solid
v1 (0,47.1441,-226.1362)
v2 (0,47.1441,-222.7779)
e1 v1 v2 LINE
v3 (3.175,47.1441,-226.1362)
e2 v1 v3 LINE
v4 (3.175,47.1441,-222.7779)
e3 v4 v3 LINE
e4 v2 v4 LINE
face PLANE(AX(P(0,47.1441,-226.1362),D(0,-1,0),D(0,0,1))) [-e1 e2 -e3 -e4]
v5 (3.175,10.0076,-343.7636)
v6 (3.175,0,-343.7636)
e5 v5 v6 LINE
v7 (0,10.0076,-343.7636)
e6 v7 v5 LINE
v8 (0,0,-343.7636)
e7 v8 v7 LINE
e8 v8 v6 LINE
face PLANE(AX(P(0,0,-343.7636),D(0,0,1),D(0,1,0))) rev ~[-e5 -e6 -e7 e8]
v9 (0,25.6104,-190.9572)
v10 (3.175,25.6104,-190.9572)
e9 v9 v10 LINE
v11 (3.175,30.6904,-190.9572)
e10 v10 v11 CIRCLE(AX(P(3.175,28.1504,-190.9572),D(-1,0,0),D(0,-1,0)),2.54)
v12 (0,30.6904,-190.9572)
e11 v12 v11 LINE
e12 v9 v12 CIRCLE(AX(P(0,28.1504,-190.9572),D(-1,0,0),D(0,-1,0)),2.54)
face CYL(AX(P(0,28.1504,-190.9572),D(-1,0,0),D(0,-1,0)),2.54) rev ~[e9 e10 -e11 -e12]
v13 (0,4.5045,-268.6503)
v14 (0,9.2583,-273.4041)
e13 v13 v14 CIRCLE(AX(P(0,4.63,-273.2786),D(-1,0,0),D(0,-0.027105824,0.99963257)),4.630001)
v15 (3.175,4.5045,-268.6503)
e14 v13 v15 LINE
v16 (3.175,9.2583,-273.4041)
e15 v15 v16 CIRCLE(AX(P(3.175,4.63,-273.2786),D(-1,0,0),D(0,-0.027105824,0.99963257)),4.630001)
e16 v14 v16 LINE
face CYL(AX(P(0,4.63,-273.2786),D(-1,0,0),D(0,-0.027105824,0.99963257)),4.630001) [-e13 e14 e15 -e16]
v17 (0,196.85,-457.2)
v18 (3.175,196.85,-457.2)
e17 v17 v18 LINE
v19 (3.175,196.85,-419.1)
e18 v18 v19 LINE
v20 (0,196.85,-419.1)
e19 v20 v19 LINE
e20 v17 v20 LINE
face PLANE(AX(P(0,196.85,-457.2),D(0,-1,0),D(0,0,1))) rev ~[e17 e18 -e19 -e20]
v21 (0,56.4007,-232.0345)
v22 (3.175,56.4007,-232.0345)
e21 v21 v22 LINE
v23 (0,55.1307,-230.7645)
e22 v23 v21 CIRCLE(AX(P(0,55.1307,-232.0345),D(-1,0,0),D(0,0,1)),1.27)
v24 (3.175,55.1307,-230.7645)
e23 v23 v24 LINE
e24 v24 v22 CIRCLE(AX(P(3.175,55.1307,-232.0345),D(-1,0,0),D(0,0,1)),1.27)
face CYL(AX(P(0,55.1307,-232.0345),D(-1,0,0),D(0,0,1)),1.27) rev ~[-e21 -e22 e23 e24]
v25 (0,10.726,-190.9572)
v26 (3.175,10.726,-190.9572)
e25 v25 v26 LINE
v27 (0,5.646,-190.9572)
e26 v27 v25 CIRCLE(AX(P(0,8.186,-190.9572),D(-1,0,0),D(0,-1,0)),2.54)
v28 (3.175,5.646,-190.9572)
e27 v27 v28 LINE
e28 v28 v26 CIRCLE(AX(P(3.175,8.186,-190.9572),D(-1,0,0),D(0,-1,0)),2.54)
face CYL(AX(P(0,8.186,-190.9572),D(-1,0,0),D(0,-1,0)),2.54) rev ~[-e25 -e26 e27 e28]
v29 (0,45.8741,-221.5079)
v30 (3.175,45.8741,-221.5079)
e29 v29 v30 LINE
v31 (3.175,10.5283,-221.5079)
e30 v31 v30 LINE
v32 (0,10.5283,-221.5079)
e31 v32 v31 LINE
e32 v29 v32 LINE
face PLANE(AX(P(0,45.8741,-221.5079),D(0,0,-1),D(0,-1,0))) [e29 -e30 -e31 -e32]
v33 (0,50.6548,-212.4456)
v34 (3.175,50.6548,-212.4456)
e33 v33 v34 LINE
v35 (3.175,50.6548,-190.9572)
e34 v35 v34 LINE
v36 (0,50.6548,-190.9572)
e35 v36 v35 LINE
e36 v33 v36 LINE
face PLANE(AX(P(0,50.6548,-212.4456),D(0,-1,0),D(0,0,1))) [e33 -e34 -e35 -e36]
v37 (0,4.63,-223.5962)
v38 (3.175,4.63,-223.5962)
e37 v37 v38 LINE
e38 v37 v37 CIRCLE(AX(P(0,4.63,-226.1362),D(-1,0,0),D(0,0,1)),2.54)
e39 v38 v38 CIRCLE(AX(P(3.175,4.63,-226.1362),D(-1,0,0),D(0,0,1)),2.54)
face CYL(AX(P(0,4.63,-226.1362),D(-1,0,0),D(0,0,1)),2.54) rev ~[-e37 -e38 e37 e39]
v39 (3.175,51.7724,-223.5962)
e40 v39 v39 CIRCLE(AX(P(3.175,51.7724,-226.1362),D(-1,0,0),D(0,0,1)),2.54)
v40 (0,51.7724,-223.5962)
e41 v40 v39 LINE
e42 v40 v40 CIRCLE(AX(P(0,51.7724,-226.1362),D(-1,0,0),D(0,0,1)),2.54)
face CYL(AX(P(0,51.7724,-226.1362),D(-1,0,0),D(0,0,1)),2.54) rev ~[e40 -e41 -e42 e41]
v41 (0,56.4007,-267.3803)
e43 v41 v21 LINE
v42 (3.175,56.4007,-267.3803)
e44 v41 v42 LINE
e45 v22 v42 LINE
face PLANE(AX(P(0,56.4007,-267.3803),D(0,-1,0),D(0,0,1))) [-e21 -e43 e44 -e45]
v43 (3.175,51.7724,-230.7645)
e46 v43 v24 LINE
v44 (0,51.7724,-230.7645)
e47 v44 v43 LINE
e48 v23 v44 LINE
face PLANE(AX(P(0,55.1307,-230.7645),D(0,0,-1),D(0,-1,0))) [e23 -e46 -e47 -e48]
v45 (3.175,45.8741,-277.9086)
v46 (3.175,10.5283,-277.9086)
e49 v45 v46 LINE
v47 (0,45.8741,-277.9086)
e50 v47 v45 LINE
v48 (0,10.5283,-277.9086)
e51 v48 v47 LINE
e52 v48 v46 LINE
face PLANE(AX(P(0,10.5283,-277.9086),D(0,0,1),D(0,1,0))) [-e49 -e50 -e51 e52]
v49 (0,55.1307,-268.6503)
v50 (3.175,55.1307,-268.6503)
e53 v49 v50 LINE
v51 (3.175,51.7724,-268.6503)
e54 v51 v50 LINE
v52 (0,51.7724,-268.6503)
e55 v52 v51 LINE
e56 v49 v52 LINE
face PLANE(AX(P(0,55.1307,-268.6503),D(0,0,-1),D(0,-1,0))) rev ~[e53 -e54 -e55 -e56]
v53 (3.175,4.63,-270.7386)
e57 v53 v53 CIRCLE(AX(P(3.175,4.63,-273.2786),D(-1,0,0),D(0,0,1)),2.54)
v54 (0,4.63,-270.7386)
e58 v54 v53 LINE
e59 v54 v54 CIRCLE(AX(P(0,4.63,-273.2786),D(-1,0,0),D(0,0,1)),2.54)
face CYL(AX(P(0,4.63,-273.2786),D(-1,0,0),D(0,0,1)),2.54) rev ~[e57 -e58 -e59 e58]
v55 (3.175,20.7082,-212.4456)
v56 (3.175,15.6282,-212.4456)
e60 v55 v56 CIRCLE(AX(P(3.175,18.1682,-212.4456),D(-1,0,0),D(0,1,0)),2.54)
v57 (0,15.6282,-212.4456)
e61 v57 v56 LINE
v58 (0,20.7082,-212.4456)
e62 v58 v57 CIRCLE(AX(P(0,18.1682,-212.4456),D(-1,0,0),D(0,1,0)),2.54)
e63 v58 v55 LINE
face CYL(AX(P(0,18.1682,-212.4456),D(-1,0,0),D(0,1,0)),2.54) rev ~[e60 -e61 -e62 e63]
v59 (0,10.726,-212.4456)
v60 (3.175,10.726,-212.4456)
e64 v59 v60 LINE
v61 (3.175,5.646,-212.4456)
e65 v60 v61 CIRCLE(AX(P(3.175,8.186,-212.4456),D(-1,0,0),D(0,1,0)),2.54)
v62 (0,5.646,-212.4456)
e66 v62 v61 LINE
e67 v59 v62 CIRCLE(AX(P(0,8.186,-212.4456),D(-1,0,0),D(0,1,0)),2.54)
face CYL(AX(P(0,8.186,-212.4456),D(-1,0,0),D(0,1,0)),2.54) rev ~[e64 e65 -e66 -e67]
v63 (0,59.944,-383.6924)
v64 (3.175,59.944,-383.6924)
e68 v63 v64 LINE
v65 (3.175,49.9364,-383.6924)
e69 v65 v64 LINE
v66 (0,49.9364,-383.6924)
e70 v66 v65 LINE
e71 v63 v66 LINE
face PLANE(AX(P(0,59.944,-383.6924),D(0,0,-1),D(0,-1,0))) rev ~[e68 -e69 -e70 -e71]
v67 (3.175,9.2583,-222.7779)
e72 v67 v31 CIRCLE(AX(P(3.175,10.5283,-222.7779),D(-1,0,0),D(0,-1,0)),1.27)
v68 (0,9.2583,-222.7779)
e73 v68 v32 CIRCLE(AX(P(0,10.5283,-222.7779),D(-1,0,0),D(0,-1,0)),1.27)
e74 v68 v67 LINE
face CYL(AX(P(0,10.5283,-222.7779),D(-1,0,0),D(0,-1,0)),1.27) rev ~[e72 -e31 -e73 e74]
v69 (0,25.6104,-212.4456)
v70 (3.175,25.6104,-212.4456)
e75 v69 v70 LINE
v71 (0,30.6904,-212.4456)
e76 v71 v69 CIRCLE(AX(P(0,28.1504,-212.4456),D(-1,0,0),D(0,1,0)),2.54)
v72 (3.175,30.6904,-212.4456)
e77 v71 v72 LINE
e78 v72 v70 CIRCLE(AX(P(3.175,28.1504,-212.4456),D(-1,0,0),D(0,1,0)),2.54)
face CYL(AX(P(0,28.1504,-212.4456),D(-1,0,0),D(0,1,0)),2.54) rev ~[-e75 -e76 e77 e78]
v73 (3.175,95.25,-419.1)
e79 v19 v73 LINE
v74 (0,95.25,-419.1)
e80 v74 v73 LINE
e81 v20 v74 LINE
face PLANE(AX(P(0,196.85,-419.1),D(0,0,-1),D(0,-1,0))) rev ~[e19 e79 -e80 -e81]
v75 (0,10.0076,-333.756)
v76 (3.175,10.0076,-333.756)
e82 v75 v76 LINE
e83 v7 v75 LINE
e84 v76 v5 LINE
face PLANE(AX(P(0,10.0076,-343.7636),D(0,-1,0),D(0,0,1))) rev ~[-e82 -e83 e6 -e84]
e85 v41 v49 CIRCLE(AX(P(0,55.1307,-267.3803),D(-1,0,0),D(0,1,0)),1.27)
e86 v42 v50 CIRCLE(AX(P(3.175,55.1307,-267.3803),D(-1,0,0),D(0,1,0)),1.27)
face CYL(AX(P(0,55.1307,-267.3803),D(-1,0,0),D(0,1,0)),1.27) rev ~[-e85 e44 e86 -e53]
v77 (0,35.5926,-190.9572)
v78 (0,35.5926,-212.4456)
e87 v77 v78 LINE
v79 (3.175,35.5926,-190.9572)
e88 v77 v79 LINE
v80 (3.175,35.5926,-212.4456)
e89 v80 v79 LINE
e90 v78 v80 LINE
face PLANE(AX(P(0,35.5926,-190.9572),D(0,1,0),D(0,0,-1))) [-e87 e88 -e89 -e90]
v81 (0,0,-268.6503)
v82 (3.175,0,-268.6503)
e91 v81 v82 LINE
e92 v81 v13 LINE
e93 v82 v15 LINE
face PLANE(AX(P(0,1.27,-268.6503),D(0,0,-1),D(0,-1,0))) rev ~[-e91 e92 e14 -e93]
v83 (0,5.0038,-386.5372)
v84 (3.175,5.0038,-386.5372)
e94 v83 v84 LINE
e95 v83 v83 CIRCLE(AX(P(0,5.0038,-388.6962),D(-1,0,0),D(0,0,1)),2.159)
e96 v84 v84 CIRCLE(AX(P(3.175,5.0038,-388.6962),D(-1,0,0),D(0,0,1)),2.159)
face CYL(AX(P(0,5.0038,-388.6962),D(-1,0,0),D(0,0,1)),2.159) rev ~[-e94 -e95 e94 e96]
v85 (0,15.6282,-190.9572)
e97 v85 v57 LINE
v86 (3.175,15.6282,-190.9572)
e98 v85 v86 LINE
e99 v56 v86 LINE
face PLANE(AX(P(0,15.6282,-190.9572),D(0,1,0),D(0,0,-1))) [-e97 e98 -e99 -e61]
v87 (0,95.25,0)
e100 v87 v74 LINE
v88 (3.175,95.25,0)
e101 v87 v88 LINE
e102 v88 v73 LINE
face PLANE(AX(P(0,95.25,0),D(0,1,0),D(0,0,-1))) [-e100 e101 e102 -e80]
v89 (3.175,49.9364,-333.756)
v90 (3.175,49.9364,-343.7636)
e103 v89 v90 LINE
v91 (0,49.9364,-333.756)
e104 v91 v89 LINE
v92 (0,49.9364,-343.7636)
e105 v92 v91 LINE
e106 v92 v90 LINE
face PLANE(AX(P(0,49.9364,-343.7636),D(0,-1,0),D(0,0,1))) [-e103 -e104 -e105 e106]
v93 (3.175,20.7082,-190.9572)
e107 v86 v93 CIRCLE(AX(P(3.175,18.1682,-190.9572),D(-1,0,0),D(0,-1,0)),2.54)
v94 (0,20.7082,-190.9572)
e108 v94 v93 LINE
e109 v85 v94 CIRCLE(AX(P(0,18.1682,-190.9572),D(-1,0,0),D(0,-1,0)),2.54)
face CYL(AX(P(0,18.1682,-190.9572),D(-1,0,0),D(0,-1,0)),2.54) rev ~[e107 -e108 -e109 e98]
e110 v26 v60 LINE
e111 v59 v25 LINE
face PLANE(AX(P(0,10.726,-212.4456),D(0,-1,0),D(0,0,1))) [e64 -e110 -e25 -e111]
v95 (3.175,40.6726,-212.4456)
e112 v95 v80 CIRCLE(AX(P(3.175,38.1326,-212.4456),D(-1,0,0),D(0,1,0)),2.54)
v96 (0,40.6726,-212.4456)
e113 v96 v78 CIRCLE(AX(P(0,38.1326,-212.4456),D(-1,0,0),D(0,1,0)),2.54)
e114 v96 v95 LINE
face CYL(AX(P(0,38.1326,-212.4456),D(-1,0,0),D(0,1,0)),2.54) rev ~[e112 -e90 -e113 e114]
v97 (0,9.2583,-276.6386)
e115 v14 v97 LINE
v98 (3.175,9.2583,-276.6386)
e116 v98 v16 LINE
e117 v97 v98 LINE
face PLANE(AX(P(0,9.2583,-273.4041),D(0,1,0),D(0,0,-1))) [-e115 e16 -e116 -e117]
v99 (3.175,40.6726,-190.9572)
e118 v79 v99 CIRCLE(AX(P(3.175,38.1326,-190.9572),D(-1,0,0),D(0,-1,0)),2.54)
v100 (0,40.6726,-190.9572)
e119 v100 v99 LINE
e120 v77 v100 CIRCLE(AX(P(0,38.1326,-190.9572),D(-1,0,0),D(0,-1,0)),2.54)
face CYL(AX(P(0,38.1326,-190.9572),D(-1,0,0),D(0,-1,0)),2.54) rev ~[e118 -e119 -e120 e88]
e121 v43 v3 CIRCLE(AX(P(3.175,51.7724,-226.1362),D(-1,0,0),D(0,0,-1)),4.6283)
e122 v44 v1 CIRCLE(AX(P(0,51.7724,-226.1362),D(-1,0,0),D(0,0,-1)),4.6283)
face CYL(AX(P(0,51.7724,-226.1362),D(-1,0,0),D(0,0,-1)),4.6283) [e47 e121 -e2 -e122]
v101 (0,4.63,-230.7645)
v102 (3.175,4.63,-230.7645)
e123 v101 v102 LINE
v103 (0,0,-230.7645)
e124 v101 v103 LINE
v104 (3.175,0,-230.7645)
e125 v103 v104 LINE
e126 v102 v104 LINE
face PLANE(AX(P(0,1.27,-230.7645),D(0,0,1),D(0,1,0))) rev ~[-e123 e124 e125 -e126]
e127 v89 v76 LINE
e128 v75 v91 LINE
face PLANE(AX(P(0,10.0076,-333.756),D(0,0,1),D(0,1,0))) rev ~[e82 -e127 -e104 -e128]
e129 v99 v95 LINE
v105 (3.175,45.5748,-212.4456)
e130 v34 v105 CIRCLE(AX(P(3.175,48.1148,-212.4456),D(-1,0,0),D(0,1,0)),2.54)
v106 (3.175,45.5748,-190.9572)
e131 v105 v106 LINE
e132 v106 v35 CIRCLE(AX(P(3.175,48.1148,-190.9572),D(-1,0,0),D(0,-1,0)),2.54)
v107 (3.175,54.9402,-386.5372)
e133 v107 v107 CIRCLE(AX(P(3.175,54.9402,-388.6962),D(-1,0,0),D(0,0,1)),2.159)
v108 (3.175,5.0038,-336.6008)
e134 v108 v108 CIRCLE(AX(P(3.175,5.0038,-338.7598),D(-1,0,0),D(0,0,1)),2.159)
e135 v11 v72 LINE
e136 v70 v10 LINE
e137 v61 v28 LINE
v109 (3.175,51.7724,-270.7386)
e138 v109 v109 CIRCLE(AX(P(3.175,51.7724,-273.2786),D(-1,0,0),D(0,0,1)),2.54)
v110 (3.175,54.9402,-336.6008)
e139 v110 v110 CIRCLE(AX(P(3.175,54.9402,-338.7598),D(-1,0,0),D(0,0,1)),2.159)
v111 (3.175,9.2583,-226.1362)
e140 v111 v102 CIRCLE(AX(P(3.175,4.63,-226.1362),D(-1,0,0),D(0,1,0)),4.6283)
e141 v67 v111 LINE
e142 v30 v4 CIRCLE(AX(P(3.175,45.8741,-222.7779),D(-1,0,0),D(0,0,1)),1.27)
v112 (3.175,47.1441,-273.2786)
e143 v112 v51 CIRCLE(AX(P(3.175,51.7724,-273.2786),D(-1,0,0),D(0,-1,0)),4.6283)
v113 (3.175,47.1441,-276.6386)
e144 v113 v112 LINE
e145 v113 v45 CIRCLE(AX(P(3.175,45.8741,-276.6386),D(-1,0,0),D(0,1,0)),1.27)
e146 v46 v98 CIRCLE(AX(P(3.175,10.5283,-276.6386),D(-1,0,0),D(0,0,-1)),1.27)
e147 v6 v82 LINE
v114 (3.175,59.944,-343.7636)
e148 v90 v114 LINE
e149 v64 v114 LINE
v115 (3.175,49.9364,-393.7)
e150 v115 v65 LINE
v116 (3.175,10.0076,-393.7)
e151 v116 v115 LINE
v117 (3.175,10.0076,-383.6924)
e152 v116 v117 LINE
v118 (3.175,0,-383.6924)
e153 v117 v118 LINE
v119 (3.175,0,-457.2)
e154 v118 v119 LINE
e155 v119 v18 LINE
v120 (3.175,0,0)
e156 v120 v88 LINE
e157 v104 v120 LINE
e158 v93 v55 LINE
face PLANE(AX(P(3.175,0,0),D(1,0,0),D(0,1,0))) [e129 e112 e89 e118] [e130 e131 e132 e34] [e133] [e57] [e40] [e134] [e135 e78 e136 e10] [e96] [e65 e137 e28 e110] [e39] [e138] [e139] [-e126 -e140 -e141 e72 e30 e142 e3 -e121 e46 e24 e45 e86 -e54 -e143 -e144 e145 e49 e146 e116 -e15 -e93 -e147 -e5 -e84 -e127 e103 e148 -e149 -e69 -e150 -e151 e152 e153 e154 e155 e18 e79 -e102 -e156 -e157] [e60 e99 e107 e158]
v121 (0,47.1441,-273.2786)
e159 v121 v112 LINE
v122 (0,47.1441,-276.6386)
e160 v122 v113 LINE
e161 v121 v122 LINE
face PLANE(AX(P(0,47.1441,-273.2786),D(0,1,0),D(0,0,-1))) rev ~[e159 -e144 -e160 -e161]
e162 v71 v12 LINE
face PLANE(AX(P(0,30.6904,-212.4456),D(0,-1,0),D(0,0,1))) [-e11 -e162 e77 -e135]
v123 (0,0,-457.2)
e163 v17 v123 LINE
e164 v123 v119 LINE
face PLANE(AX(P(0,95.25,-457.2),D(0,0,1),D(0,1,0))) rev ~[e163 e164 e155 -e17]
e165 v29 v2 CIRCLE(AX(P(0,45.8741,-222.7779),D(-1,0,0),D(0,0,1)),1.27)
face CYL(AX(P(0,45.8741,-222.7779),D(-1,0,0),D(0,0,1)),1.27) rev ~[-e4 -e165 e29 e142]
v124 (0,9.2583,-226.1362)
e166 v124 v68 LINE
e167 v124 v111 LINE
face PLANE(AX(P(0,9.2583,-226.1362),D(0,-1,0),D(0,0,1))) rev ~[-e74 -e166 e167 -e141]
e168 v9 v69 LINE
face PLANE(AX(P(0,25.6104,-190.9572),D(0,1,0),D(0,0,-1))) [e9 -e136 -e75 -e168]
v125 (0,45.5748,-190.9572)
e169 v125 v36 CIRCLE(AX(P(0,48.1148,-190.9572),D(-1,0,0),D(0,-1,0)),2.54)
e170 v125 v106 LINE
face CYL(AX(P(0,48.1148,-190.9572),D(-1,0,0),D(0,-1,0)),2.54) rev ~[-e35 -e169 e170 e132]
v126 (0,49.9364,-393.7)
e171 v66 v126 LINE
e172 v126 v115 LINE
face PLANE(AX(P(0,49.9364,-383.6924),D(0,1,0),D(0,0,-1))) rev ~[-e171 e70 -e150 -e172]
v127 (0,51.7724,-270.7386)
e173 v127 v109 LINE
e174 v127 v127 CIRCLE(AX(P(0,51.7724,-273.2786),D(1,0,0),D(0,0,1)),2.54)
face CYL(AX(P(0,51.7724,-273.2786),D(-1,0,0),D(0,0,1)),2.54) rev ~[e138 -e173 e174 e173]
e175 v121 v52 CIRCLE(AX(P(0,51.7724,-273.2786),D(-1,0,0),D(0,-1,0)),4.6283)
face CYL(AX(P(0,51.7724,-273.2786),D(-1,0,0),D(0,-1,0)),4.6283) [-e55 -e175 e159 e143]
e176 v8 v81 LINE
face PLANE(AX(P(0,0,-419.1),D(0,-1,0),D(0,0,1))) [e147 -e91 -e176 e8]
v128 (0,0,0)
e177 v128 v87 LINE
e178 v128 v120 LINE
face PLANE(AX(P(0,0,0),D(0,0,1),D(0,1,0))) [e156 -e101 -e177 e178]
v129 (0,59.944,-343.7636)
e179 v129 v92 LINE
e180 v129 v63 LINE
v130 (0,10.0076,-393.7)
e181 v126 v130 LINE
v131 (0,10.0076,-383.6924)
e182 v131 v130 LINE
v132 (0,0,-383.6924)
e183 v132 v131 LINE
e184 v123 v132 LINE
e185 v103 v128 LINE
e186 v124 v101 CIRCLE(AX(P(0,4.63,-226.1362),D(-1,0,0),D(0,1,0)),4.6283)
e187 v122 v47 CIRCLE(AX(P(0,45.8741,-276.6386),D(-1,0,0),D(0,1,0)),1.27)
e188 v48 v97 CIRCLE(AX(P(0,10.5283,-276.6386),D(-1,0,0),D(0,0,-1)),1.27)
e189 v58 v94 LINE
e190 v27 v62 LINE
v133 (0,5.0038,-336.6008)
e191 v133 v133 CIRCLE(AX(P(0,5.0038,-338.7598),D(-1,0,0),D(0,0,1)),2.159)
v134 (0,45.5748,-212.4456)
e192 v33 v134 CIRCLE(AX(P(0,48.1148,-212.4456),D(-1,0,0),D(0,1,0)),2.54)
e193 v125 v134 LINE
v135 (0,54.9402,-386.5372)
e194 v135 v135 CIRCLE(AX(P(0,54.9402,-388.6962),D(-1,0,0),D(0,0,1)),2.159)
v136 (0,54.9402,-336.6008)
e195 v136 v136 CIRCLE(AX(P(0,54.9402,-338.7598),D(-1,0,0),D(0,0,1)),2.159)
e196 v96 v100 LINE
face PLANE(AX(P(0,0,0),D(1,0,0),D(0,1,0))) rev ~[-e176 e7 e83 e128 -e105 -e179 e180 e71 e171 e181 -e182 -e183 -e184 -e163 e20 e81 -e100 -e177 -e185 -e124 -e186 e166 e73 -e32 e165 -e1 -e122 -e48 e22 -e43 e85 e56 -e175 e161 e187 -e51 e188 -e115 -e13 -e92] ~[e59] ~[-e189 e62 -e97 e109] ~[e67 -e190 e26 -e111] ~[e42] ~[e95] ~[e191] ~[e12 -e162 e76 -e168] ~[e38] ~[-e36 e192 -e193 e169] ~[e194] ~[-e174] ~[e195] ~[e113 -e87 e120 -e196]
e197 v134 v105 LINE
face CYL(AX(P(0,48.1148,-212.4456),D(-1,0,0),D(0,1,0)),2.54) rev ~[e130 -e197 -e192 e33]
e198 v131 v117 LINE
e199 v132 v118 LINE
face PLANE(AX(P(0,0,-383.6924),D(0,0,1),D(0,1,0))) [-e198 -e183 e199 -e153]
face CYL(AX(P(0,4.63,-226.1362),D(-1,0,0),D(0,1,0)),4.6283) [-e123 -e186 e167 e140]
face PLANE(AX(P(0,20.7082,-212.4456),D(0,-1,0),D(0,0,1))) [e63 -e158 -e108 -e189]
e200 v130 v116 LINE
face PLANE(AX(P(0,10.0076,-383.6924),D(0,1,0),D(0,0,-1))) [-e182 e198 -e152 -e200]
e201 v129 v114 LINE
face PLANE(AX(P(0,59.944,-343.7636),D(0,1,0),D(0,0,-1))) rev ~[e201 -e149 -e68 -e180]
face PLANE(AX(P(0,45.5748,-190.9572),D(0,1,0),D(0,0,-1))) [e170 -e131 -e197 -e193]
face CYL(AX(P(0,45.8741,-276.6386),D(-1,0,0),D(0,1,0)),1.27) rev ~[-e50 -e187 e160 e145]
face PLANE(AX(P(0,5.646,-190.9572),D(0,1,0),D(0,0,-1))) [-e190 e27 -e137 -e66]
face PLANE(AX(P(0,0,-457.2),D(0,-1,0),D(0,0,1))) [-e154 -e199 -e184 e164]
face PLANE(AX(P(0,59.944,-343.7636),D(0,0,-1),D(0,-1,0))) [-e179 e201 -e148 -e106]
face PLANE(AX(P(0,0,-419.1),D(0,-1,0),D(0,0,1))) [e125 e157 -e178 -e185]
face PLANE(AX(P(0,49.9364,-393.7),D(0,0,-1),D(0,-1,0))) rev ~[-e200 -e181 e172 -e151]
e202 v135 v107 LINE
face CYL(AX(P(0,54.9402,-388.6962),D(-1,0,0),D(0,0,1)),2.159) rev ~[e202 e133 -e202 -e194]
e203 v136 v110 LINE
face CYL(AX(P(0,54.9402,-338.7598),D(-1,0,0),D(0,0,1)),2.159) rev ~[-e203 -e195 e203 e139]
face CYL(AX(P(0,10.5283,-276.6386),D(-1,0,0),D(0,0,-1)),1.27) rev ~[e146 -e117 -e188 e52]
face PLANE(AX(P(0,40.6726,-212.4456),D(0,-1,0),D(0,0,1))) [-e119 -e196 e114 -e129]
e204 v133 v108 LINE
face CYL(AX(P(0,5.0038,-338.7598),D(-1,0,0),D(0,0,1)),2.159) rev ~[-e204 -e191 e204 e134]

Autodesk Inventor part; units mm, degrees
ref_plane "YZ Plane" through (0, 0, 0) normal (1, 0, 0) x (0, 1, 0)
ref_plane "XZ Plane" through (0, 0, 0) normal (0, 1, 0) x (-1, 0, 0)
ref_plane "XY Plane" through (0, 0, 0) normal (0, 0, 1) x (1, 0, 0)
sketch "Sketch1" plane through (0, 0, 0) normal (1, 0, 0) x (0, 1, 0)
  line L0 (0, 0) -> (95.25, 0)
  line L1 (95.25, 0) -> (95.25, -419.1)
  line L2 (95.25, -457.2) -> (0, -457.2)
  line L3 (0, -457.2) -> (0, 0)
  line L4 (0, -457.2) -> (196.85, -457.2)
  line L5 (196.85, -457.2) -> (196.85, -419.1)
  line L6 (196.85, -419.1) -> (95.25, -419.1)
  line L7 (0, -419.1) -> (0, -457.2)
extrude "Extrusion1" add sketch "Sketch1" along normal blind 3.175
sketch "Sketch2" plane through (0, 0, 0) normal (-1, 0, 0) x (0, 0, 1)
  line L0 (-393.7, 49.9364) -> (-393.7, 10.0076)
  line L1 (-333.756, 10.0076) -> (-333.756, 49.9364)
  line L2 (-343.7636, 59.944) -> (-383.6924, 59.944)
  circle A0 centre (-388.6962, 54.9402) radius 2.159
  circle A1 centre (-338.7598, 54.9402) radius 2.159
  circle A2 centre (-388.6962, 5.0038) radius 2.159
  circle A3 centre (-338.7598, 5.0038) radius 2.159
  line L3 (-383.6924, 59.944) -> (-383.6924, 49.9364)
  line L4 (-383.6924, 49.9364) -> (-393.7, 49.9364)
  line L5 (-343.7636, 59.944) -> (-343.7636, 49.9364)
  line L6 (-343.7636, 49.9364) -> (-333.756, 49.9364)
  line L7 (-383.6924, 0) -> (-383.6924, 10.0076)
  line L8 (-383.6924, 10.0076) -> (-393.7, 10.0076)
  line L9 (-343.7636, 0) -> (-343.7636, 10.0076)
  line L10 (-343.7636, 10.0076) -> (-333.756, 10.0076)
  circle A4 centre (-273.2786, 51.7724) radius 2.54
  circle A5 centre (-273.2786, 4.63) radius 2.54
  circle A6 centre (-226.1362, 51.7724) radius 2.54
  circle A7 centre (-226.1362, 4.63) radius 2.54
  line L11 (-190.9572, 5.646) -> (-212.4456, 5.646)
  line L12 (-212.4456, 10.726) -> (-190.9572, 10.726)
  arc A8 (-190.9572, 5.646) -> (-190.9572, 10.726) centre (-190.9572, 8.186) ccw
  arc A9 (-212.4456, 10.726) -> (-212.4456, 5.646) centre (-212.4456, 8.186) ccw
  line L13 (-190.9572, 15.6282) -> (-212.4456, 15.6282)
  line L14 (-212.4456, 20.7082) -> (-190.9572, 20.7082)
  arc A10 (-190.9572, 15.6282) -> (-190.9572, 20.7082) centre (-190.9572, 18.1682) ccw
  arc A11 (-212.4456, 20.7082) -> (-212.4456, 15.6282) centre (-212.4456, 18.1682) ccw
  line L15 (-190.9572, 25.6104) -> (-212.4456, 25.6104)
  line L16 (-212.4456, 30.6904) -> (-190.9572, 30.6904)
  arc A12 (-190.9572, 25.6104) -> (-190.9572, 30.6904) centre (-190.9572, 28.1504) ccw
  arc A13 (-212.4456, 30.6904) -> (-212.4456, 25.6104) centre (-212.4456, 28.1504) ccw
  line L17 (-190.9572, 35.5926) -> (-212.4456, 35.5926)
  line L18 (-212.4456, 40.6726) -> (-190.9572, 40.6726)
  arc A14 (-190.9572, 35.5926) -> (-190.9572, 40.6726) centre (-190.9572, 38.1326) ccw
  arc A15 (-212.4456, 40.6726) -> (-212.4456, 35.5926) centre (-212.4456, 38.1326) ccw
  line L19 (-190.9572, 45.5748) -> (-212.4456, 45.5748)
  line L20 (-212.4456, 50.6548) -> (-190.9572, 50.6548)
  arc A16 (-190.9572, 45.5748) -> (-190.9572, 50.6548) centre (-190.9572, 48.1148) ccw
  arc A17 (-212.4456, 50.6548) -> (-212.4456, 45.5748) centre (-212.4456, 48.1148) ccw
  line L21 (-457.2, 0) -> (-457.2, 196.85) projected
  line L22 (-457.2, 0) -> (-393.7, 0)
  line L23 (-383.6924, 0) -> (-343.7636, 0)
  line L24 (-419.1, 95.25) -> (0, 95.25) projected
  line L25 (-4.8028, 0) -> (-4.8028, 95.25)
  line L26 (-4.8028, 95.25) -> (-457.2, 95.25)
  line L27 (-457.2, 95.25) -> (-457.2, 0)
  line L28 (-267.3803, 56.4007) -> (-232.0345, 56.4007)
  line L29 (-221.5079, 45.8741) -> (-221.5079, 10.5283)
  line L30 (-232.0345, 0) -> (-267.3803, 0)
  line L31 (-277.9086, 10.5283) -> (-277.9086, 45.8741)
  line L32 (-273.2786, 51.7724) -> (-271.5234, 49.9364)
  line L33 (-271.5234, 49.9364) -> (-270.4878, 48.8532)
  arc A18 (-268.6503, 4.5045) -> (-273.4041, 9.2583) centre (-273.2786, 4.63) ccw
  arc A19 (-226.1362, 9.2583) -> (-230.7645, 4.63) centre (-226.1362, 4.63) ccw
  arc A20 (-230.7645, 51.7724) -> (-226.1362, 47.1441) centre (-226.1362, 51.7724) ccw
  arc A21 (-273.2786, 47.1441) -> (-268.6503, 51.7724) centre (-273.2786, 51.7724) ccw
  line L34 (-268.6503, 55.1307) -> (-268.6503, 51.7724)
  line L35 (-273.2786, 47.1441) -> (-276.6386, 47.1441)
  line L36 (-230.7645, 55.1307) -> (-230.7645, 51.7724)
  line L37 (-226.1362, 47.1441) -> (-222.7779, 47.1441)
  line L38 (-221.5079, 0) -> (-230.7645, 0)
  line L39 (-230.7645, 1.27) -> (-230.7645, 4.63)
  line L40 (-226.1362, 9.2583) -> (-222.7779, 9.2583)
  line L41 (-277.9086, 0) -> (-268.6503, 0)
  line L42 (-268.6503, 1.27) -> (-268.6503, 4.7555)
  line L43 (-273.1531, 9.2583) -> (-276.6386, 9.2583)
  arc A22 (-277.9086, 10.5283) -> (-276.6386, 9.2583) centre (-276.6386, 10.5283) ccw
  arc A23 (-267.3803, 56.4007) -> (-268.6503, 55.1307) centre (-267.3803, 55.1307) ccw
  arc A24 (-276.6386, 47.1441) -> (-277.9086, 45.8741) centre (-276.6386, 45.8741) ccw
  arc A25 (-230.7645, 55.1307) -> (-232.0345, 56.4007) centre (-232.0345, 55.1307) ccw
  arc A26 (-221.5079, 45.8741) -> (-222.7779, 47.1441) centre (-222.7779, 45.8741) ccw
  arc A27 (-222.7779, 9.2583) -> (-221.5079, 10.5283) centre (-222.7779, 10.5283) ccw
  line L44 (-277.9086, 56.4007) -> (-277.7032, 56.4007)
  line L45 (-268.6503, 4.5045) -> (-268.6503, 0)
  line L46 (0, 0) -> (-457.2, 0) projected
  line L47 (-230.7645, 4.63) -> (-230.7645, 0)
  line L48 (-268.6503, 0) -> (-230.7645, 0)
  dimension "d50" = 1.4986
  dimension "d52" = 1.27
extrude "Extrusion2" cut sketch "Sketch2" against normal blind 25.4 contours L4 L3 L2 L5 L6 L1 L10 L9 L23 L7 L8 L0 | L45 L42 A18 L43 A22 L31 A24 L35 A21 L34 A23 L28 A25 L36 A20 L37 A26 L29 A27 L40 A19 L39 L47 L46 L30 | A0 | A1 | A2 | A3 | A4 | A5 | A6 | A7 | L11 A9 L12 A8 | L13 A11 L14 A10 | L15 A13 L16 A12 | L17 A15 L18 A14 | L19 A17 L20 A16
sketch "Sketch6" plane through (3.175, 0, 0) normal (1, 0, 0) x (0, 0, -1)
  point P0 (0, 0)
properties part number "220228 Left Side with brace"
